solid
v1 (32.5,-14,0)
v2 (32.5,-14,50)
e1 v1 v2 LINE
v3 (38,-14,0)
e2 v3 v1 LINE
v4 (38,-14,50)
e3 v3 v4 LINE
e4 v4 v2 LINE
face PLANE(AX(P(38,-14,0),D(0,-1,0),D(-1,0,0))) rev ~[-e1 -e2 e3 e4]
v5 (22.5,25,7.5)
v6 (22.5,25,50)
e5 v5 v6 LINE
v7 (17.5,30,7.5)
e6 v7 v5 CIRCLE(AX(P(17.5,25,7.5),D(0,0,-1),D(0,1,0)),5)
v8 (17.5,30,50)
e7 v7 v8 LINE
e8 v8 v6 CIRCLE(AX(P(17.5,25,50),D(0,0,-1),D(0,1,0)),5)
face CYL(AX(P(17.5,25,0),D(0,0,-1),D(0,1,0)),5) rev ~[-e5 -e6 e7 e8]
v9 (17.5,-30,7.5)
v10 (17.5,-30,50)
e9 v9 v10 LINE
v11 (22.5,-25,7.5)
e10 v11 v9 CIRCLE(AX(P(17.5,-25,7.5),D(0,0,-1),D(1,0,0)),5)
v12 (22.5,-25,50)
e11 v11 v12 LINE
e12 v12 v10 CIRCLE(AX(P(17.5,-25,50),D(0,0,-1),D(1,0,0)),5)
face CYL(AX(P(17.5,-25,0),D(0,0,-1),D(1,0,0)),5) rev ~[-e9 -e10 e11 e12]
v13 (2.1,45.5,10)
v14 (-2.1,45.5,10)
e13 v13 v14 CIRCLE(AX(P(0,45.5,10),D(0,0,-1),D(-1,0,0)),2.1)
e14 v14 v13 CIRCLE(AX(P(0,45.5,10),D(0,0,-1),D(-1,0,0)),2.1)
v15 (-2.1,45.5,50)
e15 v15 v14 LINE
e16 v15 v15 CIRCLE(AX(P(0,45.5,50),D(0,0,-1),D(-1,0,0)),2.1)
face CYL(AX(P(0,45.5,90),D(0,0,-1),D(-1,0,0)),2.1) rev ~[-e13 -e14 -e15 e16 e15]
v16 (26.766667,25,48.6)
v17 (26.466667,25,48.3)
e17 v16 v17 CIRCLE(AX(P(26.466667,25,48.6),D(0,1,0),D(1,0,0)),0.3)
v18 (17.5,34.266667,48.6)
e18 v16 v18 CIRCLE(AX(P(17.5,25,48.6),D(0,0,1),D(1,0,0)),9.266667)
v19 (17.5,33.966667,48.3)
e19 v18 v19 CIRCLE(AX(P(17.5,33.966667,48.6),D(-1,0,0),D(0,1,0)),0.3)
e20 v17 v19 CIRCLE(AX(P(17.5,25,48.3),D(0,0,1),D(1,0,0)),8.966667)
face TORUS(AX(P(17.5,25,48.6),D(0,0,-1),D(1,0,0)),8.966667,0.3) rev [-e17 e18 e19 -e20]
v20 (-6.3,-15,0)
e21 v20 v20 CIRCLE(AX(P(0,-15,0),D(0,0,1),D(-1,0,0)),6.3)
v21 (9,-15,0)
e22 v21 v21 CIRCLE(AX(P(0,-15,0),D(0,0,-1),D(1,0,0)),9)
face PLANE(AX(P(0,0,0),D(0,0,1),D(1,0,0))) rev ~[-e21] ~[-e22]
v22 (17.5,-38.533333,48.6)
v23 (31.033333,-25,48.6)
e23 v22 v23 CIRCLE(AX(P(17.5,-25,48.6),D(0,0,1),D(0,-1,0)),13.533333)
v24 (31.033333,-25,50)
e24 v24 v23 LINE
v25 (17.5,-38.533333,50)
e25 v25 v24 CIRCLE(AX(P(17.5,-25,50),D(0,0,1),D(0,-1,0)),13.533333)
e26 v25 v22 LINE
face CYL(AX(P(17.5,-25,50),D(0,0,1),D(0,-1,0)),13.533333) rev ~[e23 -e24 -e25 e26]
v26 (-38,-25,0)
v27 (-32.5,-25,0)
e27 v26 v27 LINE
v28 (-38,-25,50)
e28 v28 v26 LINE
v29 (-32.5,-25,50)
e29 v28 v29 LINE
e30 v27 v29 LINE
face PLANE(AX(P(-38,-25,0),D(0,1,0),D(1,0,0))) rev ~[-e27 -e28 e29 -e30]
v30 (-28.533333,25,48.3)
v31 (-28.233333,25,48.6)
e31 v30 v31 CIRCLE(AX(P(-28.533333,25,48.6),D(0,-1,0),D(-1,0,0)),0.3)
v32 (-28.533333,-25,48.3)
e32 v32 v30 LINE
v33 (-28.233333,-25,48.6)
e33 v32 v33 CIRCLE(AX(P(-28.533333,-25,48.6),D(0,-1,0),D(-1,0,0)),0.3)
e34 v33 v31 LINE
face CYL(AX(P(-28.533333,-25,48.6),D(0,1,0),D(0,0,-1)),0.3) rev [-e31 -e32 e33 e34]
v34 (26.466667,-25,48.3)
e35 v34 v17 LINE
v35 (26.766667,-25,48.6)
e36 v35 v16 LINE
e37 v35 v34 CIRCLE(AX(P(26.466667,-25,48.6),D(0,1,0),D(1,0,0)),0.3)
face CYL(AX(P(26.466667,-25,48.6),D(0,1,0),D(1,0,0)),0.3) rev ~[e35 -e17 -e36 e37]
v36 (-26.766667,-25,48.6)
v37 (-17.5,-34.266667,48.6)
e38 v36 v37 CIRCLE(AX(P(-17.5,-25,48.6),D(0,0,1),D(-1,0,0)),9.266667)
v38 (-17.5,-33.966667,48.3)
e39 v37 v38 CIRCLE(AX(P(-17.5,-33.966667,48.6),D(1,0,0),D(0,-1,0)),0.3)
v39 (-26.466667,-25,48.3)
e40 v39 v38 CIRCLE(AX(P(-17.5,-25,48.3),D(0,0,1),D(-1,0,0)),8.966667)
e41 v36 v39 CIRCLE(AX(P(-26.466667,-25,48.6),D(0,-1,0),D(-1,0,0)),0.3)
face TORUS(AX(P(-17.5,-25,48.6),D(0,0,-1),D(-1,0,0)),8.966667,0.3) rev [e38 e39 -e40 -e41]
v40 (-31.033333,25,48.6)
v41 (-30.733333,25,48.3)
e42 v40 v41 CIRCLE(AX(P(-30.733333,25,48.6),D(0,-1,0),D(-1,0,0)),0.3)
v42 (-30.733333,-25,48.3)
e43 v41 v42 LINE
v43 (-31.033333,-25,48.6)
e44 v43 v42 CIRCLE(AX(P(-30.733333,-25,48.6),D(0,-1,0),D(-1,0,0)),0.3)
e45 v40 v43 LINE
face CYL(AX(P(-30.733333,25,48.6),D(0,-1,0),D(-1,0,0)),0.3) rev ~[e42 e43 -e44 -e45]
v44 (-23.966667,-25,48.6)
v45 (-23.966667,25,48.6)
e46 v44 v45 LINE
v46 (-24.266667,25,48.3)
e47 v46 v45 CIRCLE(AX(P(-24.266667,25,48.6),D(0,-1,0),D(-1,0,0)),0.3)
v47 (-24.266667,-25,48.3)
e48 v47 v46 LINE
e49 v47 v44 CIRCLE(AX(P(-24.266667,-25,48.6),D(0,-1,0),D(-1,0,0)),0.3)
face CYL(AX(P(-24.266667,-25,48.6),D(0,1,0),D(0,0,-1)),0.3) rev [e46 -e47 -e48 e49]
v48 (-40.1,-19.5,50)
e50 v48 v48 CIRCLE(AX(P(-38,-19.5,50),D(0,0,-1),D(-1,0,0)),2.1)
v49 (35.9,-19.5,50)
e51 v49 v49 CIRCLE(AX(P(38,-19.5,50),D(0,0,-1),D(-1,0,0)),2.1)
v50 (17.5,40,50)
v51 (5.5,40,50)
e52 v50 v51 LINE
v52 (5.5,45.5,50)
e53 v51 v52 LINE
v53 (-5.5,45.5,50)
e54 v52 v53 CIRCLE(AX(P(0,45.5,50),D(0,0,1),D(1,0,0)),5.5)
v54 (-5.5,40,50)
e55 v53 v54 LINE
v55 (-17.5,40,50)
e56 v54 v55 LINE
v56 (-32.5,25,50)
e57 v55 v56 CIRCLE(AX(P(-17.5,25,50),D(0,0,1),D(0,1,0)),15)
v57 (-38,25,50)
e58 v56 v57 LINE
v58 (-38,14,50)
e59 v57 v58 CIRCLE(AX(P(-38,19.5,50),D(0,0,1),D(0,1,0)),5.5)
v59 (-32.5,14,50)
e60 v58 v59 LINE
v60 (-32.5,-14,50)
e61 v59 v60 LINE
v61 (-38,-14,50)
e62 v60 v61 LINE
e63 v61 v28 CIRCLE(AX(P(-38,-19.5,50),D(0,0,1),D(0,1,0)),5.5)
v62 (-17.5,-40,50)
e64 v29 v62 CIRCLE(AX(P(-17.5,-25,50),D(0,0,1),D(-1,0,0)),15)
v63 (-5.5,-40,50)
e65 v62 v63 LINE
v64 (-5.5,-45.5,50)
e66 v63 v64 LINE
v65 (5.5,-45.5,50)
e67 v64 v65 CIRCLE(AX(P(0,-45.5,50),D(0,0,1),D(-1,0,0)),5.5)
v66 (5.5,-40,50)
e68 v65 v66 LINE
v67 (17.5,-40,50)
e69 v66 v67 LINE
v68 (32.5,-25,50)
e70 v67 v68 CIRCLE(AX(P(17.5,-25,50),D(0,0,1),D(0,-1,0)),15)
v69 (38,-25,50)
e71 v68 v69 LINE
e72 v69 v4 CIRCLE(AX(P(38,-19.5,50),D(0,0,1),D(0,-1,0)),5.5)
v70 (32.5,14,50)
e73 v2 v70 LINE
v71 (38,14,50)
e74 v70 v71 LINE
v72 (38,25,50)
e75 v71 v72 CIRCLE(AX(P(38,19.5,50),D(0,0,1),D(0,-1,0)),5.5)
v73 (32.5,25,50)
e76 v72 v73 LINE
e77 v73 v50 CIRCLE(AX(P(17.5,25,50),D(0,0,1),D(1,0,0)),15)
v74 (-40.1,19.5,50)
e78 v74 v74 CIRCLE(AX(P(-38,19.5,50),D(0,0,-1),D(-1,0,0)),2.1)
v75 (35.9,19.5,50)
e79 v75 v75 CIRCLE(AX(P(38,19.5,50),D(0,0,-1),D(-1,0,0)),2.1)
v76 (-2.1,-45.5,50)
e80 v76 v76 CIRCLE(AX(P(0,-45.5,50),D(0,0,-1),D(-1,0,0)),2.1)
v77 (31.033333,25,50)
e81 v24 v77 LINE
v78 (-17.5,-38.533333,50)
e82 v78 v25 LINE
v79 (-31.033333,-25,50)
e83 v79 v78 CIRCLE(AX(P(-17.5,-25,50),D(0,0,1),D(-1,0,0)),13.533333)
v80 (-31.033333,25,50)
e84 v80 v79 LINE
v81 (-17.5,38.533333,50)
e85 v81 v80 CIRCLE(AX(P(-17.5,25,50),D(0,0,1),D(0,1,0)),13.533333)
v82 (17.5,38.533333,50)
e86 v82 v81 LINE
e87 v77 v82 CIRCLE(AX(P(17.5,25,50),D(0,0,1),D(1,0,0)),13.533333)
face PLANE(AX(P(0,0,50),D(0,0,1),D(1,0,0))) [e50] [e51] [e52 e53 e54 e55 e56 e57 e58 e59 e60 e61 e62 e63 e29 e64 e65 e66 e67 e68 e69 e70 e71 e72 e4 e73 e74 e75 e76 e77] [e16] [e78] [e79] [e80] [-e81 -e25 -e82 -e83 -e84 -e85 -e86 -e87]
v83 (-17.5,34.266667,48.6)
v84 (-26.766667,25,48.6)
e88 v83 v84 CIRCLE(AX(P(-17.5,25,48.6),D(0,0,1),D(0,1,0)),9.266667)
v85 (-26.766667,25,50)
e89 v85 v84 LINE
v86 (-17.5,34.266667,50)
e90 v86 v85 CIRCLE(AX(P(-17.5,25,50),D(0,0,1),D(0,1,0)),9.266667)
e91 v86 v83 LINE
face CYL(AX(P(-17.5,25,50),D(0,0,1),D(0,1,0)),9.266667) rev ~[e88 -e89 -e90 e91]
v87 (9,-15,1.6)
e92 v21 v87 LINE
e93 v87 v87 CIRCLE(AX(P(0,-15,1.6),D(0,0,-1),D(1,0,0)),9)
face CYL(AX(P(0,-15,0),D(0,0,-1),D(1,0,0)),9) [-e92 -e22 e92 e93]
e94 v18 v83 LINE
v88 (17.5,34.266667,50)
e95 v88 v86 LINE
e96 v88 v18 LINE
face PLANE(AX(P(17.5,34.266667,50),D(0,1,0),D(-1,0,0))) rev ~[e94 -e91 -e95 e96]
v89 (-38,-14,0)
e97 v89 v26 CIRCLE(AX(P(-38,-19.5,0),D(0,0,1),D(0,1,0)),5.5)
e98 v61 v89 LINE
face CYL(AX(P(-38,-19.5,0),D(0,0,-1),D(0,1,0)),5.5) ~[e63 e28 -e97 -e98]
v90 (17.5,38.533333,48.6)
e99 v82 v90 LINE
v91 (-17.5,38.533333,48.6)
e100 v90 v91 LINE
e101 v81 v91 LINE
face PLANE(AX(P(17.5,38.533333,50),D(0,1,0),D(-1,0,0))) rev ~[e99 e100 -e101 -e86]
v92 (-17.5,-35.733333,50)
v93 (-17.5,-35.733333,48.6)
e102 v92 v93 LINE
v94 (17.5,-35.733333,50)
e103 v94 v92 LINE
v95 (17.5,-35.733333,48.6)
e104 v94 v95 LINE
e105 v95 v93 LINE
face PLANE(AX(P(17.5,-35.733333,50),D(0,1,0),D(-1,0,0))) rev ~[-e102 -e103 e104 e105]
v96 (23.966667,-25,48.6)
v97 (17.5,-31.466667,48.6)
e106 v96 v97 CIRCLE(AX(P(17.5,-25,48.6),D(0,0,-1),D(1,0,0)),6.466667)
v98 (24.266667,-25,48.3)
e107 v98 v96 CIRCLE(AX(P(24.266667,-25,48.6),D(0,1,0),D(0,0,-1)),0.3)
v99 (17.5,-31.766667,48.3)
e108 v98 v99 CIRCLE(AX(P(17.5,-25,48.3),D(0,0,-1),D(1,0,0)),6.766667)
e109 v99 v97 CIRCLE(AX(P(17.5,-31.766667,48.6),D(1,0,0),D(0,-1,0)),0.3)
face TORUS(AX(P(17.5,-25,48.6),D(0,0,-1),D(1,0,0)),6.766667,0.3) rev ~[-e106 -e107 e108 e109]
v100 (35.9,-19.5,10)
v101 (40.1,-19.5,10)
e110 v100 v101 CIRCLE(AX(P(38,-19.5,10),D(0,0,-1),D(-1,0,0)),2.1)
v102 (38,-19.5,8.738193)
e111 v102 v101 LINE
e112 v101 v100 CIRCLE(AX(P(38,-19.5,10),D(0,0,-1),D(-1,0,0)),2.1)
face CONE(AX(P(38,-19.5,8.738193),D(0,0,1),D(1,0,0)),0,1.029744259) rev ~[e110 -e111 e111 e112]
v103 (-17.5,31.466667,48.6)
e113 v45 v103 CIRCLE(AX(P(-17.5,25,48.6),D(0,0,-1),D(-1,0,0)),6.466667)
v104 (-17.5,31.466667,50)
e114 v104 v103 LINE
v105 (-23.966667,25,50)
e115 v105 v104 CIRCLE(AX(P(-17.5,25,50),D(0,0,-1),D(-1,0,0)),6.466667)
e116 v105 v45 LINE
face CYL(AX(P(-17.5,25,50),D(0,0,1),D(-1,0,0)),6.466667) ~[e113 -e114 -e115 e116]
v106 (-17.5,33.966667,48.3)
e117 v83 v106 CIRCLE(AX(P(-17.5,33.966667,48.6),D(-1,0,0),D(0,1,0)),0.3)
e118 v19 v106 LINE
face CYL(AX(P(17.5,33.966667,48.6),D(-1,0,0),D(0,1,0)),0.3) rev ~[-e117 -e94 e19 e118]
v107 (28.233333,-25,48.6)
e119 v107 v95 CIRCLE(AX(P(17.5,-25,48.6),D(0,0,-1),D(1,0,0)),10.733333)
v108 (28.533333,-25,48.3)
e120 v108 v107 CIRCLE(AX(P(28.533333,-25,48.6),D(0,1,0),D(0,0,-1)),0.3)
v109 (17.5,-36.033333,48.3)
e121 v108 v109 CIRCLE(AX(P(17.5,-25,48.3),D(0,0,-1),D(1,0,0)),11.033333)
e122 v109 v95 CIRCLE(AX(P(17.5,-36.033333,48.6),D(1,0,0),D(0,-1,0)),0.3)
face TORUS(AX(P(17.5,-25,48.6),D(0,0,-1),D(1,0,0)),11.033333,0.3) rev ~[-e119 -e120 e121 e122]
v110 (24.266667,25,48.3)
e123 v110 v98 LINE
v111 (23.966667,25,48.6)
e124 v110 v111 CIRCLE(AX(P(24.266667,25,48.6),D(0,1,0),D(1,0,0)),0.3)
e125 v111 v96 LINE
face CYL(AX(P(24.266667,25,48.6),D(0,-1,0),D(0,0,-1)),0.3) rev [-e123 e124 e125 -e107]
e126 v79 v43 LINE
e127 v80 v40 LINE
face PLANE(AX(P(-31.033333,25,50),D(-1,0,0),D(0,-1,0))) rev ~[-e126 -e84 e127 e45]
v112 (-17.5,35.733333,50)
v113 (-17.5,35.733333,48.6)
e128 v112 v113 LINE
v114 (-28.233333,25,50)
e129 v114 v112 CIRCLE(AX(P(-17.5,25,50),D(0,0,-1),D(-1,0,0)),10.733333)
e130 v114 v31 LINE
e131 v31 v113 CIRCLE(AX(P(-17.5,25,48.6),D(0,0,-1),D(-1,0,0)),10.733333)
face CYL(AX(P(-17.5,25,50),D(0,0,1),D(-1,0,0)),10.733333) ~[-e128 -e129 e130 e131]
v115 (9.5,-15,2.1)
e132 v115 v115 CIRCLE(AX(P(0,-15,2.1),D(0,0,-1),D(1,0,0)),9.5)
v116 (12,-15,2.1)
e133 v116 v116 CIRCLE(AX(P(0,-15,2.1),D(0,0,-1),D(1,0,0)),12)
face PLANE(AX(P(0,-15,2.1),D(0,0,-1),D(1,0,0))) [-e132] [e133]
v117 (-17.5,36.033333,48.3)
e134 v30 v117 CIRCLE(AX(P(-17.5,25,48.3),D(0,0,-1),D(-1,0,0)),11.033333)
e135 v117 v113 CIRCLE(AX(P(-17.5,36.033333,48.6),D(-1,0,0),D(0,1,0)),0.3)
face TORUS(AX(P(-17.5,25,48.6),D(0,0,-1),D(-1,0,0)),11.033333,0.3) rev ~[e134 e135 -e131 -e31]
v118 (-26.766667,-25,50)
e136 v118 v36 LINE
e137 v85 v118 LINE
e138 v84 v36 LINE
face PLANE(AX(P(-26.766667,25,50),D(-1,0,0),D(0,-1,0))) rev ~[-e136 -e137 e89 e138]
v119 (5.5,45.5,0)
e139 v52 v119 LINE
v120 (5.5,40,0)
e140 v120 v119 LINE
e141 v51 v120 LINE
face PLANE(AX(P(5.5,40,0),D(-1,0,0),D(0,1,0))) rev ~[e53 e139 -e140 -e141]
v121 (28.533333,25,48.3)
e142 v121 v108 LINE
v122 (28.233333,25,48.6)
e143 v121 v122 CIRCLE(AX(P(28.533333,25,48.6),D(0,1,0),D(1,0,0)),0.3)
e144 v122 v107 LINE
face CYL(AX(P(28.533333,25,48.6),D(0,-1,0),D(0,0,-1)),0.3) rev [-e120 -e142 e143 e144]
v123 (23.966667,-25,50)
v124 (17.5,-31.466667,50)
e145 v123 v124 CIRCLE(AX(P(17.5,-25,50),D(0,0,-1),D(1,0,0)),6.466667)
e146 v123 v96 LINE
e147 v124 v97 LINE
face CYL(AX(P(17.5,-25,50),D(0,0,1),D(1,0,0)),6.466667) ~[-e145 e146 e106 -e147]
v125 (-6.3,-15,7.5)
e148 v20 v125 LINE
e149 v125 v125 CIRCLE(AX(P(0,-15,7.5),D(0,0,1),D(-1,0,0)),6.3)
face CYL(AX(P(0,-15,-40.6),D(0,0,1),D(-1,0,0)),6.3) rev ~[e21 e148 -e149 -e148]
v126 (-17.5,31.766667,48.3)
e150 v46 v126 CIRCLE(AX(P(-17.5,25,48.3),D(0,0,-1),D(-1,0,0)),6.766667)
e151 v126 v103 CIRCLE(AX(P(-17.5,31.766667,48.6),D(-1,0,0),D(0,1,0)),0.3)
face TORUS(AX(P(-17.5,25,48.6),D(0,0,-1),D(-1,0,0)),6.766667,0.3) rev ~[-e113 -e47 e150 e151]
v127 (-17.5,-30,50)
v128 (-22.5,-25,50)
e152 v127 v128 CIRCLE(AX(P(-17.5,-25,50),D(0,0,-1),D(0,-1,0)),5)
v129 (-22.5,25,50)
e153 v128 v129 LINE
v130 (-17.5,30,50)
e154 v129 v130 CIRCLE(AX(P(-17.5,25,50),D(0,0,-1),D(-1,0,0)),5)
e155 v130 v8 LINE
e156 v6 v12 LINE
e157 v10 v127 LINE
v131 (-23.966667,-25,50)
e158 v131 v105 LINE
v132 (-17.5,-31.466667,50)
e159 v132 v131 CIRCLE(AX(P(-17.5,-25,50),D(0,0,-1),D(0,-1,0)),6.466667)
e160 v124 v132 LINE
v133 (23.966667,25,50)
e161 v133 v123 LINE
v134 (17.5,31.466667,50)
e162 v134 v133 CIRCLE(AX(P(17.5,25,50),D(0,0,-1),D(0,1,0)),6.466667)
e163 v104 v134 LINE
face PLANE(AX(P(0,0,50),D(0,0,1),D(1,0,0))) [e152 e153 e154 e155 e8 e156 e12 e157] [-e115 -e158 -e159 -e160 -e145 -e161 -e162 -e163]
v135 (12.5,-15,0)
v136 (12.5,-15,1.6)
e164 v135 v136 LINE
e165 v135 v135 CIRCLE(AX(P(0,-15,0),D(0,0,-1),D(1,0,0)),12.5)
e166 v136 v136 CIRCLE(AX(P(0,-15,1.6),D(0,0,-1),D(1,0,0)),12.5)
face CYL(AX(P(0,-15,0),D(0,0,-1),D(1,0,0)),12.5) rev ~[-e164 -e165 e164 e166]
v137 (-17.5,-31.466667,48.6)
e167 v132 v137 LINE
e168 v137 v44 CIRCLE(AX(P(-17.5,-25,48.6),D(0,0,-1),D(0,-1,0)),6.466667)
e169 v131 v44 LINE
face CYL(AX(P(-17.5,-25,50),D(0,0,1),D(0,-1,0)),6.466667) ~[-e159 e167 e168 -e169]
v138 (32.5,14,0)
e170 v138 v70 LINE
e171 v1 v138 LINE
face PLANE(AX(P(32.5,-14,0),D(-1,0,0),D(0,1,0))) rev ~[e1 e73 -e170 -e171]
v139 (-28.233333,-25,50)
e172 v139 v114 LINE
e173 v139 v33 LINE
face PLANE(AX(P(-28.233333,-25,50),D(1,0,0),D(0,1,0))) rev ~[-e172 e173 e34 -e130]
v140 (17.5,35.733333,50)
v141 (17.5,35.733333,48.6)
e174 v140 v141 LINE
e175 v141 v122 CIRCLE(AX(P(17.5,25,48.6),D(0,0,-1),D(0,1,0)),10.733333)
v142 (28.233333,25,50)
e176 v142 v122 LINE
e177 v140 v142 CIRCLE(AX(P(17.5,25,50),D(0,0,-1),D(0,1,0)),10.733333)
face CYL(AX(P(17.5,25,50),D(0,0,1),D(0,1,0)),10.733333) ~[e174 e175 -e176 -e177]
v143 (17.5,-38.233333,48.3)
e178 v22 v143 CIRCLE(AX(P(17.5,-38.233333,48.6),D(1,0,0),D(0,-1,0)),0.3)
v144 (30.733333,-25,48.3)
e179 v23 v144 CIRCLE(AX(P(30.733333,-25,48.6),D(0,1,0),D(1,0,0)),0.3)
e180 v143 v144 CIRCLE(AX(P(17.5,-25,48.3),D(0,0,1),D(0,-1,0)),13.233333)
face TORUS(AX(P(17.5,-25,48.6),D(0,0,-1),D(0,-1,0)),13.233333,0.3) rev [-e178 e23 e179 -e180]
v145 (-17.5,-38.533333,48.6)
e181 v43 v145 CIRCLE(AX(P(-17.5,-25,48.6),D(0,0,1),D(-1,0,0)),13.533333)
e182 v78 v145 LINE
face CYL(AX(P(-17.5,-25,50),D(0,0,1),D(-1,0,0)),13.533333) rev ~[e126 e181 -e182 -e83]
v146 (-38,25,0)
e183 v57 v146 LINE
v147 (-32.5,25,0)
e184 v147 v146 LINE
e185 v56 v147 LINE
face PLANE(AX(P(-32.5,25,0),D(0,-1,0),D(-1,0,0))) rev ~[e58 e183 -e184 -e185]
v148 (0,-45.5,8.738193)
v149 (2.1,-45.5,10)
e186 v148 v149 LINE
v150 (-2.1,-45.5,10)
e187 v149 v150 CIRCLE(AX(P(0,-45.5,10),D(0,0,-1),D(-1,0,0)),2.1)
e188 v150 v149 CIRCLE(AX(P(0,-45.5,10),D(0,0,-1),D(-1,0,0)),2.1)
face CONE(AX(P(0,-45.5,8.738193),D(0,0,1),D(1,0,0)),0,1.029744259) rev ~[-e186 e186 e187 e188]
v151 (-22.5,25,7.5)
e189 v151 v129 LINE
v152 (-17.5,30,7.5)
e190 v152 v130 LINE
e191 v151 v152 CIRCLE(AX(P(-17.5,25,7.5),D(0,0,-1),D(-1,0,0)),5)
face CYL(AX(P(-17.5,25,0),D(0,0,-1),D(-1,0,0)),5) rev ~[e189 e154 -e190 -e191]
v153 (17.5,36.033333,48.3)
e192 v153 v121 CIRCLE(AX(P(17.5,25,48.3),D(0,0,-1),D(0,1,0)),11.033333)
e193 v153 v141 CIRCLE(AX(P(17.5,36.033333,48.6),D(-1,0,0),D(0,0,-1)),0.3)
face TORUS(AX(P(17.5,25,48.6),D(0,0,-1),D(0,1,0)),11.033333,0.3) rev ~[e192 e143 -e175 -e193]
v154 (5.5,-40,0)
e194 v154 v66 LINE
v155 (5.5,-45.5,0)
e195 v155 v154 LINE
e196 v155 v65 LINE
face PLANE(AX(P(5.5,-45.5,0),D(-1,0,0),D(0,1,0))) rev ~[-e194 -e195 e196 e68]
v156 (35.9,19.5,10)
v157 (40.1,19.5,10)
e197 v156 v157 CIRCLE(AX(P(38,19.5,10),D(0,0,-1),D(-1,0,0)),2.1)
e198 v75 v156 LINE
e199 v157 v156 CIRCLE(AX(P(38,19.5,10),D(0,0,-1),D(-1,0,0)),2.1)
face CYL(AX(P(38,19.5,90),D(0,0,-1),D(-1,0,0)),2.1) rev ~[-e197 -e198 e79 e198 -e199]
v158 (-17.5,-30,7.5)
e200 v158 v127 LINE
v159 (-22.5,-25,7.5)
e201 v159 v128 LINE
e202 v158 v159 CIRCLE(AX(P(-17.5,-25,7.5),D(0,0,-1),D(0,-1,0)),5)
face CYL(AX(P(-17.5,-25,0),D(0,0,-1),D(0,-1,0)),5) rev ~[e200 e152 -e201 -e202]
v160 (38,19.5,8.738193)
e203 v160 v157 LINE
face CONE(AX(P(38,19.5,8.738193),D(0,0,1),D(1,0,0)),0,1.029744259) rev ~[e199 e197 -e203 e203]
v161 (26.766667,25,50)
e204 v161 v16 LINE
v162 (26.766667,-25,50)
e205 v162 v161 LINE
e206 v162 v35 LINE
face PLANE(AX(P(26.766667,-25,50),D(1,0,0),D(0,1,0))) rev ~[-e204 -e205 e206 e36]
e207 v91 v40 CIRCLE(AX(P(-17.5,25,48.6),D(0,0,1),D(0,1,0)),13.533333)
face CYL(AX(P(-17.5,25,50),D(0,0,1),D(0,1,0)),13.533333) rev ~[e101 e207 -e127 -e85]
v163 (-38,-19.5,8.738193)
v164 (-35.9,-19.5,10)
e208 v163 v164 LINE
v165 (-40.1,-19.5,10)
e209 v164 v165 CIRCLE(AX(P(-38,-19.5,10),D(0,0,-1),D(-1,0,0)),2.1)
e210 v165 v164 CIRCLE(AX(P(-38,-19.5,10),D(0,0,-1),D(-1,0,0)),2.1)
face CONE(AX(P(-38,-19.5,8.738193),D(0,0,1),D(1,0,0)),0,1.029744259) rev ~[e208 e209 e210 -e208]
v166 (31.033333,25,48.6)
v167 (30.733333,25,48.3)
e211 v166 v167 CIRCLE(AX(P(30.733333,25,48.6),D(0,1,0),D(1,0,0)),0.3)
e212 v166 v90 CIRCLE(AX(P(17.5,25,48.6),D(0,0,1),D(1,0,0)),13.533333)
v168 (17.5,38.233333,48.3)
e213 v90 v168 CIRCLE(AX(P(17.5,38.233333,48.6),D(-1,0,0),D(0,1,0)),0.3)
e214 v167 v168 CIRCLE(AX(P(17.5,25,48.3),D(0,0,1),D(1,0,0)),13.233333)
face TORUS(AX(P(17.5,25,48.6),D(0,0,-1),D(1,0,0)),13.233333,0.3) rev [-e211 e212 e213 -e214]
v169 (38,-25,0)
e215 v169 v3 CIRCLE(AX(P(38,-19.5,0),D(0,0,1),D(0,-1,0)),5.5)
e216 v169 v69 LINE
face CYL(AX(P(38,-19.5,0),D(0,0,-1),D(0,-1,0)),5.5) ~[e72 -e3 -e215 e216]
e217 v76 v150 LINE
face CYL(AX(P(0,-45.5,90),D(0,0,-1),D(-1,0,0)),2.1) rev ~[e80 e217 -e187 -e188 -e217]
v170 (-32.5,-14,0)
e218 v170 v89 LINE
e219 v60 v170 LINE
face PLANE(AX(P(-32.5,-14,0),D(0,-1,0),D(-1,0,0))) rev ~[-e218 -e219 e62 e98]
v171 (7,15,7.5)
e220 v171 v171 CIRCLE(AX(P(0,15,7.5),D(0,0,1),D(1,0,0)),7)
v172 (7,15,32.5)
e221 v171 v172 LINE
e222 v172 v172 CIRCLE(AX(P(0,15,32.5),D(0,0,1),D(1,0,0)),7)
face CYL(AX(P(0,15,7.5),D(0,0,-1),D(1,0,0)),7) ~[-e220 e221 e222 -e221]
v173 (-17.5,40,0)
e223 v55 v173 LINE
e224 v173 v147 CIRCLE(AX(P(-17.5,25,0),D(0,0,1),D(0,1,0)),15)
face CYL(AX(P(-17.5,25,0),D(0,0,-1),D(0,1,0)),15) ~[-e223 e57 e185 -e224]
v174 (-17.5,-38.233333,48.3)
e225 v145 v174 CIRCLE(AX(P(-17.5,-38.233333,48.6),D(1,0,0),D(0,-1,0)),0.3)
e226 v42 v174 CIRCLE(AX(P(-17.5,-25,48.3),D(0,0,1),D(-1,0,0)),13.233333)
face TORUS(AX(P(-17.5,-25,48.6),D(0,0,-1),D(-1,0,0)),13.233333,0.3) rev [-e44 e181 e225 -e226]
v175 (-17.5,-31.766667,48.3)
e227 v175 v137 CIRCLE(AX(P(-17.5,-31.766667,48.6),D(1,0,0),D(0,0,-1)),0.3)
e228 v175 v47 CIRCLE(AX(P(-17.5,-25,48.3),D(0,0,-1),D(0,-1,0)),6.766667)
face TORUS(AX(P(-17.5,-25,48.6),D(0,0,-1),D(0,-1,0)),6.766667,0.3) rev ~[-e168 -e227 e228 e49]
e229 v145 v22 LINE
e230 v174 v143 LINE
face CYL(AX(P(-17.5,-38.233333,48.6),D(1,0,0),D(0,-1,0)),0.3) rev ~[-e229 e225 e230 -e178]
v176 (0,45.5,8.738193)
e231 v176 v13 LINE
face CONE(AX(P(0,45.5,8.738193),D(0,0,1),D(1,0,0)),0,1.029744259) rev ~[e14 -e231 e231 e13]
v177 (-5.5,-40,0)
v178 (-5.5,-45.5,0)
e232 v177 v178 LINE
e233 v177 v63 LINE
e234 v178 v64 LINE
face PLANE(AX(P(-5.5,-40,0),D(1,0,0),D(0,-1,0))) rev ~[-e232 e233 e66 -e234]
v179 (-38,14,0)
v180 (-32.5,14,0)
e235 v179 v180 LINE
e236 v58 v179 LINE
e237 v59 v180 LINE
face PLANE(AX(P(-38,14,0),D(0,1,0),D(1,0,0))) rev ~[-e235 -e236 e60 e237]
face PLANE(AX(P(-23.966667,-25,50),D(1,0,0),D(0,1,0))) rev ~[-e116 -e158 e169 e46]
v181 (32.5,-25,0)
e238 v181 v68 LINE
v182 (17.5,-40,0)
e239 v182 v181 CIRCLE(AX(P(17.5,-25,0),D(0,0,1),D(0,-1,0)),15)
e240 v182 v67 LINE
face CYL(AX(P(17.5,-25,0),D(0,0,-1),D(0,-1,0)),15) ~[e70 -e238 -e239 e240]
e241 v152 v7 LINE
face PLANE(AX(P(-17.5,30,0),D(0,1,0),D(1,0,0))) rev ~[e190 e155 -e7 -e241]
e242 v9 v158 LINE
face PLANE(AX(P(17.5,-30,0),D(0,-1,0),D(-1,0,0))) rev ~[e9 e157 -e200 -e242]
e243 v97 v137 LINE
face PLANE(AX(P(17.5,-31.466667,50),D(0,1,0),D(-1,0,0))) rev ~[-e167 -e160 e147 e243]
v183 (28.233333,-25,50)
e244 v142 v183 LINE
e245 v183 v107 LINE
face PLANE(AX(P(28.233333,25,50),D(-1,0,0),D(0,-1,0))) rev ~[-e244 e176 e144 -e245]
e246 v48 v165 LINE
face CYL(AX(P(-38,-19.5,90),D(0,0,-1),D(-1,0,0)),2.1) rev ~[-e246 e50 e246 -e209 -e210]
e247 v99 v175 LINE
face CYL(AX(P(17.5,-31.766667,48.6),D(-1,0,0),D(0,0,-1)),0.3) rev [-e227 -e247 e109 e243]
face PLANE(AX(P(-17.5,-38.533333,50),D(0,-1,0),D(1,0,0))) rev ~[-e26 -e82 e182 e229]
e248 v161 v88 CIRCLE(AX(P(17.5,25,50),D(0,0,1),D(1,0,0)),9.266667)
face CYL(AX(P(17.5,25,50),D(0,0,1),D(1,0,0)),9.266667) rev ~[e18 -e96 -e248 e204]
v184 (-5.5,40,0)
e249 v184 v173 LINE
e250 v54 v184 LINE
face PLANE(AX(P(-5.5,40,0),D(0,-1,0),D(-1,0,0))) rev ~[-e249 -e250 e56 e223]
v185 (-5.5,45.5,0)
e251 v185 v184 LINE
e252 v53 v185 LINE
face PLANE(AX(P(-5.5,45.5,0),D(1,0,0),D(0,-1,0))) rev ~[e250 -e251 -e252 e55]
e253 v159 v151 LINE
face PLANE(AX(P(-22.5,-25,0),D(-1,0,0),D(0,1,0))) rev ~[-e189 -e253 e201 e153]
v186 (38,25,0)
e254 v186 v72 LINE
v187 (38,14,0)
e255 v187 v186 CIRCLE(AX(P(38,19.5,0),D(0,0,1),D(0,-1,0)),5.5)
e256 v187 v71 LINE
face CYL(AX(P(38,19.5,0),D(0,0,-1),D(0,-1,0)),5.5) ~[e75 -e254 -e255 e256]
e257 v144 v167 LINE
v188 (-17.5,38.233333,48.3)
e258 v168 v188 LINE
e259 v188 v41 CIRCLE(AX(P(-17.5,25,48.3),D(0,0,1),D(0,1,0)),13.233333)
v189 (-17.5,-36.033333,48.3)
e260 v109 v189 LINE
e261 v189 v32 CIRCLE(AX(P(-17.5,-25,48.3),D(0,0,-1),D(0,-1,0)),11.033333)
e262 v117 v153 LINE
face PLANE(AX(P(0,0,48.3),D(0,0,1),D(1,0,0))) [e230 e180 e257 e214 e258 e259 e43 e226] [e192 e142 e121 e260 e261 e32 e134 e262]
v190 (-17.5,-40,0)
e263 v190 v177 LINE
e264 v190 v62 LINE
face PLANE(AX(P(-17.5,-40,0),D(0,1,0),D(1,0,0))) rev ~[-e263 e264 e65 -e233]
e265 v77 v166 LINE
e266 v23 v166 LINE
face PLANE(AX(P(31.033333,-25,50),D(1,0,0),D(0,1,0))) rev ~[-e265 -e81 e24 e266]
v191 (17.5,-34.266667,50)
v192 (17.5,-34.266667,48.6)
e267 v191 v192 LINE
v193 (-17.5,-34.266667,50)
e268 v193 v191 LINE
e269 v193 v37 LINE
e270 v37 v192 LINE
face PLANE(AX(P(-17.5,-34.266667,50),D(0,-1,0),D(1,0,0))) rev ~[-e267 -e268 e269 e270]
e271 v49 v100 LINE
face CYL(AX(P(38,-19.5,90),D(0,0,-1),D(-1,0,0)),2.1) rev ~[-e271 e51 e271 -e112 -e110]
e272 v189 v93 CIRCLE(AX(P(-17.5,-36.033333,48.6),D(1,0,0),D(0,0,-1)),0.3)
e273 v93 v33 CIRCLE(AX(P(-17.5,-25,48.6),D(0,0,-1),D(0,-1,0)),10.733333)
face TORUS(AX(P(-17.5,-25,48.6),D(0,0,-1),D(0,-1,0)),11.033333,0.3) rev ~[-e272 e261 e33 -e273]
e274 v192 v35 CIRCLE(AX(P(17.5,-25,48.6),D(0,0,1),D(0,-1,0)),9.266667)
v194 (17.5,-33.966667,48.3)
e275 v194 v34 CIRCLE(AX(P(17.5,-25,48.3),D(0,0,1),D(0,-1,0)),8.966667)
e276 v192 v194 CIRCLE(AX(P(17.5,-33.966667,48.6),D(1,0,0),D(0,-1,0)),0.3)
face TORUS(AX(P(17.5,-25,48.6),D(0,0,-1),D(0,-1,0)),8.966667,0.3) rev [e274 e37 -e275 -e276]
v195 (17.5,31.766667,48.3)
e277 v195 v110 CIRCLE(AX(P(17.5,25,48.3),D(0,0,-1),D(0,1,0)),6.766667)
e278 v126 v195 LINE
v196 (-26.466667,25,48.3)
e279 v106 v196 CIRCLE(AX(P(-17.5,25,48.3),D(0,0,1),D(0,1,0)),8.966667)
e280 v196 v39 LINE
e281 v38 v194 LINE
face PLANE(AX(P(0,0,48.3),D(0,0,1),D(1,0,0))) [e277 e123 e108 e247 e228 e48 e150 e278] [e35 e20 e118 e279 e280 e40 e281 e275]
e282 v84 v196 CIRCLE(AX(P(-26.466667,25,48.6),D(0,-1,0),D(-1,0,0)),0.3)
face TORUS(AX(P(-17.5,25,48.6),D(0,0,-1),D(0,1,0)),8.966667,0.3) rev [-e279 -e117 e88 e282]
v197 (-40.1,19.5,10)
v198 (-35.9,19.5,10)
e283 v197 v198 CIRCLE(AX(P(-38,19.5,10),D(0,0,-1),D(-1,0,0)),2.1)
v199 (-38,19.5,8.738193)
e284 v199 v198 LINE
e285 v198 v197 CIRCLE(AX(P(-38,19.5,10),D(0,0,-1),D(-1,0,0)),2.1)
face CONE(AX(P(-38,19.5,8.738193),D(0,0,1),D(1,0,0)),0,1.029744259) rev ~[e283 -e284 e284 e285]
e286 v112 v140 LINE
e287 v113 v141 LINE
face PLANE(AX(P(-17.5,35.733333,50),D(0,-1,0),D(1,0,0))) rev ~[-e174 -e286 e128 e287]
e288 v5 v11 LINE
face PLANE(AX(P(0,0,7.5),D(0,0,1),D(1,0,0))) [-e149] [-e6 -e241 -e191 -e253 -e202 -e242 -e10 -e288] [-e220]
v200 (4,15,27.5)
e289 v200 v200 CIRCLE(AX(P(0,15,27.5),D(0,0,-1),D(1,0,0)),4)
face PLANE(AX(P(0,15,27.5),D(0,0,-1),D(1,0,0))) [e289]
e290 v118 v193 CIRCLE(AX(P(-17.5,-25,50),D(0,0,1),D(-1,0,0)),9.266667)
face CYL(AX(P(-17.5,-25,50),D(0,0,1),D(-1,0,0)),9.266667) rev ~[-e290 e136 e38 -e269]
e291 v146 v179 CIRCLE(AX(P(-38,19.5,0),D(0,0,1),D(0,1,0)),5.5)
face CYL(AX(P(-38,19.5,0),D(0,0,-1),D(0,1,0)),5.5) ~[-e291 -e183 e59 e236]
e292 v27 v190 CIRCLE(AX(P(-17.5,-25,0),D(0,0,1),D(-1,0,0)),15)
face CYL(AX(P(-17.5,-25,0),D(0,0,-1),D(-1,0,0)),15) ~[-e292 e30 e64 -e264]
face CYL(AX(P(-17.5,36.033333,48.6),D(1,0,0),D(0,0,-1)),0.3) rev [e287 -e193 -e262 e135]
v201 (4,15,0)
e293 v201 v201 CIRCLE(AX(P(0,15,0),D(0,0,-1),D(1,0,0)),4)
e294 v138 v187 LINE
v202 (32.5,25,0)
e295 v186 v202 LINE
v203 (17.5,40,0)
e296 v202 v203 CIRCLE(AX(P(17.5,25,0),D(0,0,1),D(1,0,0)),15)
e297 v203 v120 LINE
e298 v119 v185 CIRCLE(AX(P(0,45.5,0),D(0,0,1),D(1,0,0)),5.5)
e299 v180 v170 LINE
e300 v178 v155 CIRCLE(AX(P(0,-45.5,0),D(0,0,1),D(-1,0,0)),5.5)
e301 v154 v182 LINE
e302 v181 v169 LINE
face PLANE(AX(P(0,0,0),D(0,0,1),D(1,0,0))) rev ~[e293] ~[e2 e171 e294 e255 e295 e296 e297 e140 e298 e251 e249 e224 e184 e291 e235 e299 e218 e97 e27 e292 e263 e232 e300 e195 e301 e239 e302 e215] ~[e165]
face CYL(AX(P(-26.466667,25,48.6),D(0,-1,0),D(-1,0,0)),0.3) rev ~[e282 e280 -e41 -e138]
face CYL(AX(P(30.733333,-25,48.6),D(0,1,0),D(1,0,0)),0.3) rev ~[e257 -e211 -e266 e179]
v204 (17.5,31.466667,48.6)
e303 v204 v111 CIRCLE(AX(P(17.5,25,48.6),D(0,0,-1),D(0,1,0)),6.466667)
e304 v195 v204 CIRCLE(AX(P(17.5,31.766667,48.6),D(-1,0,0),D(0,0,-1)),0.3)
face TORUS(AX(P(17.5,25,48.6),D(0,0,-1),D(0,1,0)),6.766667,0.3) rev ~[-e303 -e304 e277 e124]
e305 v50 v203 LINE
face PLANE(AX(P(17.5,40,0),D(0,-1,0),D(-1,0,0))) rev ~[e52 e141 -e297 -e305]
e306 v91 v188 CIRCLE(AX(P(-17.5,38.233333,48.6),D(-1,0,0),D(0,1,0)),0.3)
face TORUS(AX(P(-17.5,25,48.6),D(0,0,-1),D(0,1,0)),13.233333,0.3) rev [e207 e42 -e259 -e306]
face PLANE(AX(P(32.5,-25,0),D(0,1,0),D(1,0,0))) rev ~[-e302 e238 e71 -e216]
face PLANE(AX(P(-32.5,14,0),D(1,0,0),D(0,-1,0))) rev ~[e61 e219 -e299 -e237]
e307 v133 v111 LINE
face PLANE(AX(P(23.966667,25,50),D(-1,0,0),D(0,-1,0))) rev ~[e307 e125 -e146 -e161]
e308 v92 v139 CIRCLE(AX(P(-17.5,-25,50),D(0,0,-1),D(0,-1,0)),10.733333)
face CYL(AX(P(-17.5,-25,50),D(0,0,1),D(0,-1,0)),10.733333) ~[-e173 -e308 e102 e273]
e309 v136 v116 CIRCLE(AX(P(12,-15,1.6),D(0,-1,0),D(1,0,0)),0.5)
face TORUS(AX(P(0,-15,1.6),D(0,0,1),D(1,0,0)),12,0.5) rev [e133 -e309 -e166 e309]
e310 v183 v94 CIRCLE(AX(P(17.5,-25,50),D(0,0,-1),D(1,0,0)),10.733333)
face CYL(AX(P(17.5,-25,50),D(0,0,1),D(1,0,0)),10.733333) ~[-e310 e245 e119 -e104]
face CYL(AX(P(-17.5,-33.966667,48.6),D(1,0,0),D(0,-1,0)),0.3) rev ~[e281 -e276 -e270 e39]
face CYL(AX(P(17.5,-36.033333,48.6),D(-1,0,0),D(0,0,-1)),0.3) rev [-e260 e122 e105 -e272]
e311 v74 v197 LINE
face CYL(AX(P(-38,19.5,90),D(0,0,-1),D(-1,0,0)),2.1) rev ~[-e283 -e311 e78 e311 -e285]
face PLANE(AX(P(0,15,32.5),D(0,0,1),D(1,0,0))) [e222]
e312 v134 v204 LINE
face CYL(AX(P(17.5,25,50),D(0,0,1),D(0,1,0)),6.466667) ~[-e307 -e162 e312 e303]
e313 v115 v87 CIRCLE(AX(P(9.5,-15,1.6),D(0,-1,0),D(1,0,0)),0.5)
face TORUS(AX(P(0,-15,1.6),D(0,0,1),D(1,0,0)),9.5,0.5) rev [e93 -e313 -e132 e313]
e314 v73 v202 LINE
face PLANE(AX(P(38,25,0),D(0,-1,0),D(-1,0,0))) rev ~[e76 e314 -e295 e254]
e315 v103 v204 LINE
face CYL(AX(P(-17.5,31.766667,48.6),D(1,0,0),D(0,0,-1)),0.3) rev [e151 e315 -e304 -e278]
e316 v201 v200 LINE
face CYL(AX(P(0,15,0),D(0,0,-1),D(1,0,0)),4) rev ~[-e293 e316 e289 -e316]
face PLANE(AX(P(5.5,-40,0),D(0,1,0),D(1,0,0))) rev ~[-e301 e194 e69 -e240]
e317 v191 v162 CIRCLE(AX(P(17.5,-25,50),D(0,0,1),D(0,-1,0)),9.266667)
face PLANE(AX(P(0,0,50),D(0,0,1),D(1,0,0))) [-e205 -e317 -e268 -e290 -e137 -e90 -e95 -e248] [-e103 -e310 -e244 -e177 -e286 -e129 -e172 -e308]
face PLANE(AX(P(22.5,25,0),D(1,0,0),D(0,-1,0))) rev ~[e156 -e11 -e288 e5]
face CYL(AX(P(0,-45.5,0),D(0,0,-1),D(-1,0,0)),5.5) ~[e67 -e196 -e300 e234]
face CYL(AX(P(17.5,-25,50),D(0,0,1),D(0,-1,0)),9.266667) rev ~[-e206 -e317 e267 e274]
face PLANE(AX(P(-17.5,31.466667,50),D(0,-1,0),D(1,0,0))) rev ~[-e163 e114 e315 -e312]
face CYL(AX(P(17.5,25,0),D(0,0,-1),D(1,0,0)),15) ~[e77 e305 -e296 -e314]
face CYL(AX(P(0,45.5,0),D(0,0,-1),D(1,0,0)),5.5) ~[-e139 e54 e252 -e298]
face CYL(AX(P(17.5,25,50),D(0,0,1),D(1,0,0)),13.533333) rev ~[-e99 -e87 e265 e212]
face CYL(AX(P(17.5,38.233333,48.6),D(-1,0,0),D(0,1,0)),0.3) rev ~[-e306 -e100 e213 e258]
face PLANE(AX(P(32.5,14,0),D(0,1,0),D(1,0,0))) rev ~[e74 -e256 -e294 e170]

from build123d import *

# Parameters (mm, degrees)
F1_DEPTH  = 50
F3_DEPTH  = 7.5
F5_DEPTH  = 1.7
F7_D      = 4.2
F7_DEPTH  = 40
F7_TIP    = 1.2618073
F8_R      = 0.3
F9_R      = 7
F10_DEPTH = 25
F11_R     = 4
F12_DEPTH = 27.5
F14_D     = 12.6
F14_DEPTH = 40.6
F14_TIP   = 3.7854218999
F15_R     = 12.5
F15_R_2   = 9
F16_DEPTH = 2.1
F17_R     = 0.5


with BuildPart() as f1:
    # F0 (on Top) → F1 (new body)
    with BuildSketch(Plane.XY):
        with BuildLine():
            Line((-38, -25), (-32.5, -25))
            ThreePointArc((-32.5, -25), (-28.1066017178, -35.6066017178), (-17.5, -40))
            Line((-17.5, -40), (-5.5, -40))
            Line((-5.5, -40), (-5.5, -45.5))
            ThreePointArc((-5.5, -45.5), (0, -51), (5.5, -45.5))
            Line((5.5, -45.5), (5.5, -40))
            Line((5.5, -40), (17.5, -40))
            ThreePointArc((17.5, -40), (28.1066017178, -35.6066017178), (32.5, -25))
            Line((32.5, -25), (38, -25))
            ThreePointArc((38, -25), (43.5, -19.5), (38, -14))
            Line((38, -14), (32.5, -14))
            Line((32.5, -14), (32.5, 14))
            Line((32.5, 14), (38, 14))
            ThreePointArc((38, 14), (43.5, 19.5), (38, 25))
            Line((38, 25), (32.5, 25))
            ThreePointArc((32.5, 25), (28.1066017178, 35.6066017178), (17.5, 40))
            Line((17.5, 40), (5.5, 40))
            Line((5.5, 40), (5.5, 45.5))
            ThreePointArc((5.5, 45.5), (0, 51), (-5.5, 45.5))
            Line((-5.5, 45.5), (-5.5, 40))
            Line((-5.5, 40), (-17.5, 40))
            ThreePointArc((-17.5, 40), (-28.1066017178, 35.6066017178), (-32.5, 25))
            Line((-32.5, 25), (-38, 25))
            ThreePointArc((-38, 25), (-43.5, 19.5), (-38, 14))
            Line((-38, 14), (-32.5, 14))
            Line((-32.5, 14), (-32.5, -14))
            Line((-32.5, -14), (-38, -14))
            ThreePointArc((-38, -14), (-43.5, -19.5), (-38, -25))
        make_face()
        with BuildLine():
            Line((17.5, -30), (-17.5, -30))
            ThreePointArc((-17.5, -30), (-21.0355339059, -28.5355339059), (-22.5, -25))
            Line((-22.5, -25), (-22.5, 25))
            ThreePointArc((-22.5, 25), (-21.0355339059, 28.5355339059), (-17.5, 30))
            Line((-17.5, 30), (17.5, 30))
            ThreePointArc((17.5, 30), (21.0355339059, 28.5355339059), (22.5, 25))
            Line((22.5, 25), (22.5, -25))
            ThreePointArc((22.5, -25), (21.0355339059, -28.5355339059), (17.5, -30))
        make_face(mode=Mode.SUBTRACT)
    extrude(amount=F1_DEPTH)

    # F2 (on Top) + F0 (on Top) → F3 (join)
    with BuildSketch(Plane.XY):
        with BuildLine():
            ThreePointArc((38, 14), (43.5, 19.5), (38, 25))
            Line((38, 25), (32.5, 25))
            ThreePointArc((32.5, 25), (28.1066017178, 35.6066017178), (17.5, 40))
            Line((17.5, 40), (5.5, 40))
            Line((5.5, 40), (5.5, 45.5))
            ThreePointArc((5.5, 45.5), (0, 51), (-5.5, 45.5))
            Line((-5.5, 45.5), (-5.5, 40))
            Line((-5.5, 40), (-17.5, 40))
            ThreePointArc((-17.5, 40), (-28.1066017178, 35.6066017178), (-32.5, 25))
            Line((-32.5, 25), (-38, 25))
            ThreePointArc((-38, 25), (-43.5, 19.5), (-38, 14))
            Line((-38, 14), (-32.5, 14))
            Line((-32.5, 14), (-32.5, -14))
            Line((-32.5, -14), (-38, -14))
            ThreePointArc((-38, -14), (-43.5, -19.5), (-38, -25))
            Line((-38, -25), (-32.5, -25))
            ThreePointArc((-32.5, -25), (-28.1066017178, -35.6066017178), (-17.5, -40))
            Line((-17.5, -40), (-5.5, -40))
            Line((-5.5, -40), (-5.5, -45.5))
            ThreePointArc((-5.5, -45.5), (0, -51), (5.5, -45.5))
            Line((5.5, -45.5), (5.5, -40))
            Line((5.5, -40), (17.5, -40))
            ThreePointArc((17.5, -40), (28.1066017178, -35.6066017178), (32.5, -25))
            Line((32.5, -25), (38, -25))
            ThreePointArc((38, -25), (43.5, -19.5), (38, -14))
            Line((38, -14), (32.5, -14))
            Line((32.5, -14), (32.5, 14))
            Line((32.5, 14), (38, 14))
        make_face()
    with BuildSketch(Plane.XY):
        with BuildLine():
            Line((-38, -25), (-32.5, -25))
            ThreePointArc((-32.5, -25), (-28.1066017178, -35.6066017178), (-17.5, -40))
            Line((-17.5, -40), (-5.5, -40))
            Line((-5.5, -40), (-5.5, -45.5))
            ThreePointArc((-5.5, -45.5), (0, -51), (5.5, -45.5))
            Line((5.5, -45.5), (5.5, -40))
            Line((5.5, -40), (17.5, -40))
            ThreePointArc((17.5, -40), (28.1066017178, -35.6066017178), (32.5, -25))
            Line((32.5, -25), (38, -25))
            ThreePointArc((38, -25), (43.5, -19.5), (38, -14))
            Line((38, -14), (32.5, -14))
            Line((32.5, -14), (32.5, 14))
            Line((32.5, 14), (38, 14))
            ThreePointArc((38, 14), (43.5, 19.5), (38, 25))
            Line((38, 25), (32.5, 25))
            ThreePointArc((32.5, 25), (28.1066017178, 35.6066017178), (17.5, 40))
            Line((17.5, 40), (5.5, 40))
            Line((5.5, 40), (5.5, 45.5))
            ThreePointArc((5.5, 45.5), (0, 51), (-5.5, 45.5))
            Line((-5.5, 45.5), (-5.5, 40))
            Line((-5.5, 40), (-17.5, 40))
            ThreePointArc((-17.5, 40), (-28.1066017178, 35.6066017178), (-32.5, 25))
            Line((-32.5, 25), (-38, 25))
            ThreePointArc((-38, 25), (-43.5, 19.5), (-38, 14))
            Line((-38, 14), (-32.5, 14))
            Line((-32.5, 14), (-32.5, -14))
            Line((-32.5, -14), (-38, -14))
            ThreePointArc((-38, -14), (-43.5, -19.5), (-38, -25))
        make_face()
        with BuildLine():
            Line((17.5, -30), (-17.5, -30))
            ThreePointArc((-17.5, -30), (-21.0355339059, -28.5355339059), (-22.5, -25))
            Line((-22.5, -25), (-22.5, 25))
            ThreePointArc((-22.5, 25), (-21.0355339059, 28.5355339059), (-17.5, 30))
            Line((-17.5, 30), (17.5, 30))
            ThreePointArc((17.5, 30), (21.0355339059, 28.5355339059), (22.5, 25))
            Line((22.5, 25), (22.5, -25))
            ThreePointArc((22.5, -25), (21.0355339059, -28.5355339059), (17.5, -30))
        make_face(mode=Mode.SUBTRACT)
    extrude(amount=F3_DEPTH)

    # F4 (on face) → F5 (cut)
    with BuildSketch(Plane.XY.offset(50)):
        with BuildLine():
            Line((17.5, 38.5333333333), (-17.5, 38.5333333333))
            ThreePointArc((-17.5, 38.5333333333), (-27.0695117721, 34.5695117721), (-31.0333333333, 25))
            Line((-31.0333333333, 25), (-31.0333333333, -25))
            ThreePointArc((-31.0333333333, -25), (-27.0695117721, -34.5695117721), (-17.5, -38.5333333333))
            Line((-17.5, -38.5333333333), (17.5, -38.5333333333))
            ThreePointArc((17.5, -38.5333333333), (27.0695117721, -34.5695117721), (31.0333333333, -25))
            Line((31.0333333333, -25), (31.0333333333, 25))
            ThreePointArc((31.0333333333, 25), (27.0695117721, 34.5695117721), (17.5, 38.5333333333))
        make_face()
        with BuildLine():
            ThreePointArc((-28.2333333333, 25), (-25.0896127847, 32.5896127847), (-17.5, 35.7333333333))
            Line((-17.5, 35.7333333333), (17.5, 35.7333333333))
            ThreePointArc((17.5, 35.7333333333), (25.0896127847, 32.5896127847), (28.2333333333, 25))
            Line((28.2333333333, 25), (28.2333333333, -25))
            ThreePointArc((28.2333333333, -25), (25.0896127847, -32.5896127847), (17.5, -35.7333333333))
            Line((17.5, -35.7333333333), (-17.5, -35.7333333333))
            ThreePointArc((-17.5, -35.7333333333), (-25.0896127847, -32.5896127847), (-28.2333333333, -25))
            Line((-28.2333333333, -25), (-28.2333333333, 25))
        make_face(mode=Mode.SUBTRACT)
        with BuildLine():
            Line((17.5, 34.2666666667), (-17.5, 34.2666666667))
            ThreePointArc((-17.5, 34.2666666667), (-24.052522839, 31.552522839), (-26.7666666667, 25))
            Line((-26.7666666667, 25), (-26.7666666667, -25))
            ThreePointArc((-26.7666666667, -25), (-24.052522839, -31.552522839), (-17.5, -34.2666666667))
            Line((-17.5, -34.2666666667), (17.5, -34.2666666667))
            ThreePointArc((17.5, -34.2666666667), (24.052522839, -31.552522839), (26.7666666667, -25))
            Line((26.7666666667, -25), (26.7666666667, 25))
            ThreePointArc((26.7666666667, 25), (24.052522839, 31.552522839), (17.5, 34.2666666667))
        make_face()
        with BuildLine():
            ThreePointArc((-23.9666666667, 25), (-22.0726238517, 29.5726238517), (-17.5, 31.4666666667))
            Line((-17.5, 31.4666666667), (17.5, 31.4666666667))
            ThreePointArc((17.5, 31.4666666667), (22.0726238517, 29.5726238517), (23.9666666667, 25))
            Line((23.9666666667, 25), (23.9666666667, -25))
            ThreePointArc((23.9666666667, -25), (22.0726238517, -29.5726238517), (17.5, -31.4666666667))
            Line((17.5, -31.4666666667), (-17.5, -31.4666666667))
            ThreePointArc((-17.5, -31.4666666667), (-22.0726238517, -29.5726238517), (-23.9666666667, -25))
            Line((-23.9666666667, -25), (-23.9666666667, 25))
        make_face(mode=Mode.SUBTRACT)
    extrude(amount=-F5_DEPTH, mode=Mode.SUBTRACT)

    # F7
    with Locations(Plane.XY.offset(50)):
        with Locations((-38, 19.5), (0, 45.5), (38, 19.5), (38, -19.5), (0, -45.5), (-38, -19.5)):
            Hole(F7_D / 2, depth=F7_DEPTH)
            with Locations((0, 0, -(F7_DEPTH + F7_TIP / 2))):  # 118° drill point
                Cone(0, F7_D / 2, F7_TIP, mode=Mode.SUBTRACT)

    # F8
    f8_edges = [f1.edges().sort_by_distance(p)[0] for p in [
        (31.033333, 0, 48.3),
        (27.069512, 34.569512, 48.3),
        (0, 38.533333, 48.3),
        (-27.069512, 34.569512, 48.3),
        (-31.033333, 0, 48.3),
        (-27.069512, -34.569512, 48.3),
        (0, -38.533333, 48.3),
        (27.069512, -34.569512, 48.3),
        (-25.089613, 32.589613, 48.3),
        (0, 35.733333, 48.3),
        (25.089613, 32.589613, 48.3),
        (28.233333, 0, 48.3),
        (25.089613, -32.589613, 48.3),
        (0, -35.733333, 48.3),
        (-25.089613, -32.589613, 48.3),
        (-28.233333, 0, 48.3),
        (24.052523, 31.552523, 48.3),
        (0, 34.266667, 48.3),
        (-24.052523, 31.552523, 48.3),
        (-26.766667, 0, 48.3),
        (-24.052523, -31.552523, 48.3),
        (0, -34.266667, 48.3),
        (24.052523, -31.552523, 48.3),
        (26.766667, 0, 48.3),
        (-22.072624, 29.572624, 48.3),
        (0, 31.466667, 48.3),
        (22.072624, 29.572624, 48.3),
        (23.966667, 0, 48.3),
        (22.072624, -29.572624, 48.3),
        (0, -31.466667, 48.3),
        (-22.072624, -29.572624, 48.3),
        (-23.966667, 0, 48.3),
    ]]
    fillet(f8_edges, radius=F8_R)

    # F9 (on face) → F10 (join)
    with BuildSketch(Plane.XY.offset(7.5)):
        with Locations((0, 15)):
            Circle(F9_R)
    extrude(amount=F10_DEPTH)

    # F11 (on face) → F12 (cut, through all)
    with BuildSketch(Plane(origin=(0, 0, 0), x_dir=(1, 0, 0), z_dir=(0, 0, -1))):
        with Locations((0, -15)):
            Circle(F11_R)
    extrude(amount=-F12_DEPTH, mode=Mode.SUBTRACT)

    # F14
    with Locations(Plane(origin=(0, 0, 0), x_dir=(1, 0, 0), z_dir=(0, 0, -1))):
        with Locations((0, 15)):
            Hole(F14_D / 2, depth=F14_DEPTH)
            with Locations((0, 0, -(F14_DEPTH + F14_TIP / 2))):  # 118° drill point
                Cone(0, F14_D / 2, F14_TIP, mode=Mode.SUBTRACT)

    # F15 (on face) → F16 (cut)
    with BuildSketch(Plane(origin=(0, 0, 0), x_dir=(1, 0, 0), z_dir=(0, 0, -1))):
        with Locations((0, 15)):
            Circle(F15_R)
        with Locations((0, 15)):
            Circle(F15_R_2, mode=Mode.SUBTRACT)
    extrude(amount=-F16_DEPTH, mode=Mode.SUBTRACT)

    # F17
    f17_edges = [f1.edges().sort_by_distance(p)[0] for p in [
        (-12.5, -15, 2.1),
        (-9, -15, 2.1),
    ]]
    fillet(f17_edges, radius=F17_R)


solid = f1.part
